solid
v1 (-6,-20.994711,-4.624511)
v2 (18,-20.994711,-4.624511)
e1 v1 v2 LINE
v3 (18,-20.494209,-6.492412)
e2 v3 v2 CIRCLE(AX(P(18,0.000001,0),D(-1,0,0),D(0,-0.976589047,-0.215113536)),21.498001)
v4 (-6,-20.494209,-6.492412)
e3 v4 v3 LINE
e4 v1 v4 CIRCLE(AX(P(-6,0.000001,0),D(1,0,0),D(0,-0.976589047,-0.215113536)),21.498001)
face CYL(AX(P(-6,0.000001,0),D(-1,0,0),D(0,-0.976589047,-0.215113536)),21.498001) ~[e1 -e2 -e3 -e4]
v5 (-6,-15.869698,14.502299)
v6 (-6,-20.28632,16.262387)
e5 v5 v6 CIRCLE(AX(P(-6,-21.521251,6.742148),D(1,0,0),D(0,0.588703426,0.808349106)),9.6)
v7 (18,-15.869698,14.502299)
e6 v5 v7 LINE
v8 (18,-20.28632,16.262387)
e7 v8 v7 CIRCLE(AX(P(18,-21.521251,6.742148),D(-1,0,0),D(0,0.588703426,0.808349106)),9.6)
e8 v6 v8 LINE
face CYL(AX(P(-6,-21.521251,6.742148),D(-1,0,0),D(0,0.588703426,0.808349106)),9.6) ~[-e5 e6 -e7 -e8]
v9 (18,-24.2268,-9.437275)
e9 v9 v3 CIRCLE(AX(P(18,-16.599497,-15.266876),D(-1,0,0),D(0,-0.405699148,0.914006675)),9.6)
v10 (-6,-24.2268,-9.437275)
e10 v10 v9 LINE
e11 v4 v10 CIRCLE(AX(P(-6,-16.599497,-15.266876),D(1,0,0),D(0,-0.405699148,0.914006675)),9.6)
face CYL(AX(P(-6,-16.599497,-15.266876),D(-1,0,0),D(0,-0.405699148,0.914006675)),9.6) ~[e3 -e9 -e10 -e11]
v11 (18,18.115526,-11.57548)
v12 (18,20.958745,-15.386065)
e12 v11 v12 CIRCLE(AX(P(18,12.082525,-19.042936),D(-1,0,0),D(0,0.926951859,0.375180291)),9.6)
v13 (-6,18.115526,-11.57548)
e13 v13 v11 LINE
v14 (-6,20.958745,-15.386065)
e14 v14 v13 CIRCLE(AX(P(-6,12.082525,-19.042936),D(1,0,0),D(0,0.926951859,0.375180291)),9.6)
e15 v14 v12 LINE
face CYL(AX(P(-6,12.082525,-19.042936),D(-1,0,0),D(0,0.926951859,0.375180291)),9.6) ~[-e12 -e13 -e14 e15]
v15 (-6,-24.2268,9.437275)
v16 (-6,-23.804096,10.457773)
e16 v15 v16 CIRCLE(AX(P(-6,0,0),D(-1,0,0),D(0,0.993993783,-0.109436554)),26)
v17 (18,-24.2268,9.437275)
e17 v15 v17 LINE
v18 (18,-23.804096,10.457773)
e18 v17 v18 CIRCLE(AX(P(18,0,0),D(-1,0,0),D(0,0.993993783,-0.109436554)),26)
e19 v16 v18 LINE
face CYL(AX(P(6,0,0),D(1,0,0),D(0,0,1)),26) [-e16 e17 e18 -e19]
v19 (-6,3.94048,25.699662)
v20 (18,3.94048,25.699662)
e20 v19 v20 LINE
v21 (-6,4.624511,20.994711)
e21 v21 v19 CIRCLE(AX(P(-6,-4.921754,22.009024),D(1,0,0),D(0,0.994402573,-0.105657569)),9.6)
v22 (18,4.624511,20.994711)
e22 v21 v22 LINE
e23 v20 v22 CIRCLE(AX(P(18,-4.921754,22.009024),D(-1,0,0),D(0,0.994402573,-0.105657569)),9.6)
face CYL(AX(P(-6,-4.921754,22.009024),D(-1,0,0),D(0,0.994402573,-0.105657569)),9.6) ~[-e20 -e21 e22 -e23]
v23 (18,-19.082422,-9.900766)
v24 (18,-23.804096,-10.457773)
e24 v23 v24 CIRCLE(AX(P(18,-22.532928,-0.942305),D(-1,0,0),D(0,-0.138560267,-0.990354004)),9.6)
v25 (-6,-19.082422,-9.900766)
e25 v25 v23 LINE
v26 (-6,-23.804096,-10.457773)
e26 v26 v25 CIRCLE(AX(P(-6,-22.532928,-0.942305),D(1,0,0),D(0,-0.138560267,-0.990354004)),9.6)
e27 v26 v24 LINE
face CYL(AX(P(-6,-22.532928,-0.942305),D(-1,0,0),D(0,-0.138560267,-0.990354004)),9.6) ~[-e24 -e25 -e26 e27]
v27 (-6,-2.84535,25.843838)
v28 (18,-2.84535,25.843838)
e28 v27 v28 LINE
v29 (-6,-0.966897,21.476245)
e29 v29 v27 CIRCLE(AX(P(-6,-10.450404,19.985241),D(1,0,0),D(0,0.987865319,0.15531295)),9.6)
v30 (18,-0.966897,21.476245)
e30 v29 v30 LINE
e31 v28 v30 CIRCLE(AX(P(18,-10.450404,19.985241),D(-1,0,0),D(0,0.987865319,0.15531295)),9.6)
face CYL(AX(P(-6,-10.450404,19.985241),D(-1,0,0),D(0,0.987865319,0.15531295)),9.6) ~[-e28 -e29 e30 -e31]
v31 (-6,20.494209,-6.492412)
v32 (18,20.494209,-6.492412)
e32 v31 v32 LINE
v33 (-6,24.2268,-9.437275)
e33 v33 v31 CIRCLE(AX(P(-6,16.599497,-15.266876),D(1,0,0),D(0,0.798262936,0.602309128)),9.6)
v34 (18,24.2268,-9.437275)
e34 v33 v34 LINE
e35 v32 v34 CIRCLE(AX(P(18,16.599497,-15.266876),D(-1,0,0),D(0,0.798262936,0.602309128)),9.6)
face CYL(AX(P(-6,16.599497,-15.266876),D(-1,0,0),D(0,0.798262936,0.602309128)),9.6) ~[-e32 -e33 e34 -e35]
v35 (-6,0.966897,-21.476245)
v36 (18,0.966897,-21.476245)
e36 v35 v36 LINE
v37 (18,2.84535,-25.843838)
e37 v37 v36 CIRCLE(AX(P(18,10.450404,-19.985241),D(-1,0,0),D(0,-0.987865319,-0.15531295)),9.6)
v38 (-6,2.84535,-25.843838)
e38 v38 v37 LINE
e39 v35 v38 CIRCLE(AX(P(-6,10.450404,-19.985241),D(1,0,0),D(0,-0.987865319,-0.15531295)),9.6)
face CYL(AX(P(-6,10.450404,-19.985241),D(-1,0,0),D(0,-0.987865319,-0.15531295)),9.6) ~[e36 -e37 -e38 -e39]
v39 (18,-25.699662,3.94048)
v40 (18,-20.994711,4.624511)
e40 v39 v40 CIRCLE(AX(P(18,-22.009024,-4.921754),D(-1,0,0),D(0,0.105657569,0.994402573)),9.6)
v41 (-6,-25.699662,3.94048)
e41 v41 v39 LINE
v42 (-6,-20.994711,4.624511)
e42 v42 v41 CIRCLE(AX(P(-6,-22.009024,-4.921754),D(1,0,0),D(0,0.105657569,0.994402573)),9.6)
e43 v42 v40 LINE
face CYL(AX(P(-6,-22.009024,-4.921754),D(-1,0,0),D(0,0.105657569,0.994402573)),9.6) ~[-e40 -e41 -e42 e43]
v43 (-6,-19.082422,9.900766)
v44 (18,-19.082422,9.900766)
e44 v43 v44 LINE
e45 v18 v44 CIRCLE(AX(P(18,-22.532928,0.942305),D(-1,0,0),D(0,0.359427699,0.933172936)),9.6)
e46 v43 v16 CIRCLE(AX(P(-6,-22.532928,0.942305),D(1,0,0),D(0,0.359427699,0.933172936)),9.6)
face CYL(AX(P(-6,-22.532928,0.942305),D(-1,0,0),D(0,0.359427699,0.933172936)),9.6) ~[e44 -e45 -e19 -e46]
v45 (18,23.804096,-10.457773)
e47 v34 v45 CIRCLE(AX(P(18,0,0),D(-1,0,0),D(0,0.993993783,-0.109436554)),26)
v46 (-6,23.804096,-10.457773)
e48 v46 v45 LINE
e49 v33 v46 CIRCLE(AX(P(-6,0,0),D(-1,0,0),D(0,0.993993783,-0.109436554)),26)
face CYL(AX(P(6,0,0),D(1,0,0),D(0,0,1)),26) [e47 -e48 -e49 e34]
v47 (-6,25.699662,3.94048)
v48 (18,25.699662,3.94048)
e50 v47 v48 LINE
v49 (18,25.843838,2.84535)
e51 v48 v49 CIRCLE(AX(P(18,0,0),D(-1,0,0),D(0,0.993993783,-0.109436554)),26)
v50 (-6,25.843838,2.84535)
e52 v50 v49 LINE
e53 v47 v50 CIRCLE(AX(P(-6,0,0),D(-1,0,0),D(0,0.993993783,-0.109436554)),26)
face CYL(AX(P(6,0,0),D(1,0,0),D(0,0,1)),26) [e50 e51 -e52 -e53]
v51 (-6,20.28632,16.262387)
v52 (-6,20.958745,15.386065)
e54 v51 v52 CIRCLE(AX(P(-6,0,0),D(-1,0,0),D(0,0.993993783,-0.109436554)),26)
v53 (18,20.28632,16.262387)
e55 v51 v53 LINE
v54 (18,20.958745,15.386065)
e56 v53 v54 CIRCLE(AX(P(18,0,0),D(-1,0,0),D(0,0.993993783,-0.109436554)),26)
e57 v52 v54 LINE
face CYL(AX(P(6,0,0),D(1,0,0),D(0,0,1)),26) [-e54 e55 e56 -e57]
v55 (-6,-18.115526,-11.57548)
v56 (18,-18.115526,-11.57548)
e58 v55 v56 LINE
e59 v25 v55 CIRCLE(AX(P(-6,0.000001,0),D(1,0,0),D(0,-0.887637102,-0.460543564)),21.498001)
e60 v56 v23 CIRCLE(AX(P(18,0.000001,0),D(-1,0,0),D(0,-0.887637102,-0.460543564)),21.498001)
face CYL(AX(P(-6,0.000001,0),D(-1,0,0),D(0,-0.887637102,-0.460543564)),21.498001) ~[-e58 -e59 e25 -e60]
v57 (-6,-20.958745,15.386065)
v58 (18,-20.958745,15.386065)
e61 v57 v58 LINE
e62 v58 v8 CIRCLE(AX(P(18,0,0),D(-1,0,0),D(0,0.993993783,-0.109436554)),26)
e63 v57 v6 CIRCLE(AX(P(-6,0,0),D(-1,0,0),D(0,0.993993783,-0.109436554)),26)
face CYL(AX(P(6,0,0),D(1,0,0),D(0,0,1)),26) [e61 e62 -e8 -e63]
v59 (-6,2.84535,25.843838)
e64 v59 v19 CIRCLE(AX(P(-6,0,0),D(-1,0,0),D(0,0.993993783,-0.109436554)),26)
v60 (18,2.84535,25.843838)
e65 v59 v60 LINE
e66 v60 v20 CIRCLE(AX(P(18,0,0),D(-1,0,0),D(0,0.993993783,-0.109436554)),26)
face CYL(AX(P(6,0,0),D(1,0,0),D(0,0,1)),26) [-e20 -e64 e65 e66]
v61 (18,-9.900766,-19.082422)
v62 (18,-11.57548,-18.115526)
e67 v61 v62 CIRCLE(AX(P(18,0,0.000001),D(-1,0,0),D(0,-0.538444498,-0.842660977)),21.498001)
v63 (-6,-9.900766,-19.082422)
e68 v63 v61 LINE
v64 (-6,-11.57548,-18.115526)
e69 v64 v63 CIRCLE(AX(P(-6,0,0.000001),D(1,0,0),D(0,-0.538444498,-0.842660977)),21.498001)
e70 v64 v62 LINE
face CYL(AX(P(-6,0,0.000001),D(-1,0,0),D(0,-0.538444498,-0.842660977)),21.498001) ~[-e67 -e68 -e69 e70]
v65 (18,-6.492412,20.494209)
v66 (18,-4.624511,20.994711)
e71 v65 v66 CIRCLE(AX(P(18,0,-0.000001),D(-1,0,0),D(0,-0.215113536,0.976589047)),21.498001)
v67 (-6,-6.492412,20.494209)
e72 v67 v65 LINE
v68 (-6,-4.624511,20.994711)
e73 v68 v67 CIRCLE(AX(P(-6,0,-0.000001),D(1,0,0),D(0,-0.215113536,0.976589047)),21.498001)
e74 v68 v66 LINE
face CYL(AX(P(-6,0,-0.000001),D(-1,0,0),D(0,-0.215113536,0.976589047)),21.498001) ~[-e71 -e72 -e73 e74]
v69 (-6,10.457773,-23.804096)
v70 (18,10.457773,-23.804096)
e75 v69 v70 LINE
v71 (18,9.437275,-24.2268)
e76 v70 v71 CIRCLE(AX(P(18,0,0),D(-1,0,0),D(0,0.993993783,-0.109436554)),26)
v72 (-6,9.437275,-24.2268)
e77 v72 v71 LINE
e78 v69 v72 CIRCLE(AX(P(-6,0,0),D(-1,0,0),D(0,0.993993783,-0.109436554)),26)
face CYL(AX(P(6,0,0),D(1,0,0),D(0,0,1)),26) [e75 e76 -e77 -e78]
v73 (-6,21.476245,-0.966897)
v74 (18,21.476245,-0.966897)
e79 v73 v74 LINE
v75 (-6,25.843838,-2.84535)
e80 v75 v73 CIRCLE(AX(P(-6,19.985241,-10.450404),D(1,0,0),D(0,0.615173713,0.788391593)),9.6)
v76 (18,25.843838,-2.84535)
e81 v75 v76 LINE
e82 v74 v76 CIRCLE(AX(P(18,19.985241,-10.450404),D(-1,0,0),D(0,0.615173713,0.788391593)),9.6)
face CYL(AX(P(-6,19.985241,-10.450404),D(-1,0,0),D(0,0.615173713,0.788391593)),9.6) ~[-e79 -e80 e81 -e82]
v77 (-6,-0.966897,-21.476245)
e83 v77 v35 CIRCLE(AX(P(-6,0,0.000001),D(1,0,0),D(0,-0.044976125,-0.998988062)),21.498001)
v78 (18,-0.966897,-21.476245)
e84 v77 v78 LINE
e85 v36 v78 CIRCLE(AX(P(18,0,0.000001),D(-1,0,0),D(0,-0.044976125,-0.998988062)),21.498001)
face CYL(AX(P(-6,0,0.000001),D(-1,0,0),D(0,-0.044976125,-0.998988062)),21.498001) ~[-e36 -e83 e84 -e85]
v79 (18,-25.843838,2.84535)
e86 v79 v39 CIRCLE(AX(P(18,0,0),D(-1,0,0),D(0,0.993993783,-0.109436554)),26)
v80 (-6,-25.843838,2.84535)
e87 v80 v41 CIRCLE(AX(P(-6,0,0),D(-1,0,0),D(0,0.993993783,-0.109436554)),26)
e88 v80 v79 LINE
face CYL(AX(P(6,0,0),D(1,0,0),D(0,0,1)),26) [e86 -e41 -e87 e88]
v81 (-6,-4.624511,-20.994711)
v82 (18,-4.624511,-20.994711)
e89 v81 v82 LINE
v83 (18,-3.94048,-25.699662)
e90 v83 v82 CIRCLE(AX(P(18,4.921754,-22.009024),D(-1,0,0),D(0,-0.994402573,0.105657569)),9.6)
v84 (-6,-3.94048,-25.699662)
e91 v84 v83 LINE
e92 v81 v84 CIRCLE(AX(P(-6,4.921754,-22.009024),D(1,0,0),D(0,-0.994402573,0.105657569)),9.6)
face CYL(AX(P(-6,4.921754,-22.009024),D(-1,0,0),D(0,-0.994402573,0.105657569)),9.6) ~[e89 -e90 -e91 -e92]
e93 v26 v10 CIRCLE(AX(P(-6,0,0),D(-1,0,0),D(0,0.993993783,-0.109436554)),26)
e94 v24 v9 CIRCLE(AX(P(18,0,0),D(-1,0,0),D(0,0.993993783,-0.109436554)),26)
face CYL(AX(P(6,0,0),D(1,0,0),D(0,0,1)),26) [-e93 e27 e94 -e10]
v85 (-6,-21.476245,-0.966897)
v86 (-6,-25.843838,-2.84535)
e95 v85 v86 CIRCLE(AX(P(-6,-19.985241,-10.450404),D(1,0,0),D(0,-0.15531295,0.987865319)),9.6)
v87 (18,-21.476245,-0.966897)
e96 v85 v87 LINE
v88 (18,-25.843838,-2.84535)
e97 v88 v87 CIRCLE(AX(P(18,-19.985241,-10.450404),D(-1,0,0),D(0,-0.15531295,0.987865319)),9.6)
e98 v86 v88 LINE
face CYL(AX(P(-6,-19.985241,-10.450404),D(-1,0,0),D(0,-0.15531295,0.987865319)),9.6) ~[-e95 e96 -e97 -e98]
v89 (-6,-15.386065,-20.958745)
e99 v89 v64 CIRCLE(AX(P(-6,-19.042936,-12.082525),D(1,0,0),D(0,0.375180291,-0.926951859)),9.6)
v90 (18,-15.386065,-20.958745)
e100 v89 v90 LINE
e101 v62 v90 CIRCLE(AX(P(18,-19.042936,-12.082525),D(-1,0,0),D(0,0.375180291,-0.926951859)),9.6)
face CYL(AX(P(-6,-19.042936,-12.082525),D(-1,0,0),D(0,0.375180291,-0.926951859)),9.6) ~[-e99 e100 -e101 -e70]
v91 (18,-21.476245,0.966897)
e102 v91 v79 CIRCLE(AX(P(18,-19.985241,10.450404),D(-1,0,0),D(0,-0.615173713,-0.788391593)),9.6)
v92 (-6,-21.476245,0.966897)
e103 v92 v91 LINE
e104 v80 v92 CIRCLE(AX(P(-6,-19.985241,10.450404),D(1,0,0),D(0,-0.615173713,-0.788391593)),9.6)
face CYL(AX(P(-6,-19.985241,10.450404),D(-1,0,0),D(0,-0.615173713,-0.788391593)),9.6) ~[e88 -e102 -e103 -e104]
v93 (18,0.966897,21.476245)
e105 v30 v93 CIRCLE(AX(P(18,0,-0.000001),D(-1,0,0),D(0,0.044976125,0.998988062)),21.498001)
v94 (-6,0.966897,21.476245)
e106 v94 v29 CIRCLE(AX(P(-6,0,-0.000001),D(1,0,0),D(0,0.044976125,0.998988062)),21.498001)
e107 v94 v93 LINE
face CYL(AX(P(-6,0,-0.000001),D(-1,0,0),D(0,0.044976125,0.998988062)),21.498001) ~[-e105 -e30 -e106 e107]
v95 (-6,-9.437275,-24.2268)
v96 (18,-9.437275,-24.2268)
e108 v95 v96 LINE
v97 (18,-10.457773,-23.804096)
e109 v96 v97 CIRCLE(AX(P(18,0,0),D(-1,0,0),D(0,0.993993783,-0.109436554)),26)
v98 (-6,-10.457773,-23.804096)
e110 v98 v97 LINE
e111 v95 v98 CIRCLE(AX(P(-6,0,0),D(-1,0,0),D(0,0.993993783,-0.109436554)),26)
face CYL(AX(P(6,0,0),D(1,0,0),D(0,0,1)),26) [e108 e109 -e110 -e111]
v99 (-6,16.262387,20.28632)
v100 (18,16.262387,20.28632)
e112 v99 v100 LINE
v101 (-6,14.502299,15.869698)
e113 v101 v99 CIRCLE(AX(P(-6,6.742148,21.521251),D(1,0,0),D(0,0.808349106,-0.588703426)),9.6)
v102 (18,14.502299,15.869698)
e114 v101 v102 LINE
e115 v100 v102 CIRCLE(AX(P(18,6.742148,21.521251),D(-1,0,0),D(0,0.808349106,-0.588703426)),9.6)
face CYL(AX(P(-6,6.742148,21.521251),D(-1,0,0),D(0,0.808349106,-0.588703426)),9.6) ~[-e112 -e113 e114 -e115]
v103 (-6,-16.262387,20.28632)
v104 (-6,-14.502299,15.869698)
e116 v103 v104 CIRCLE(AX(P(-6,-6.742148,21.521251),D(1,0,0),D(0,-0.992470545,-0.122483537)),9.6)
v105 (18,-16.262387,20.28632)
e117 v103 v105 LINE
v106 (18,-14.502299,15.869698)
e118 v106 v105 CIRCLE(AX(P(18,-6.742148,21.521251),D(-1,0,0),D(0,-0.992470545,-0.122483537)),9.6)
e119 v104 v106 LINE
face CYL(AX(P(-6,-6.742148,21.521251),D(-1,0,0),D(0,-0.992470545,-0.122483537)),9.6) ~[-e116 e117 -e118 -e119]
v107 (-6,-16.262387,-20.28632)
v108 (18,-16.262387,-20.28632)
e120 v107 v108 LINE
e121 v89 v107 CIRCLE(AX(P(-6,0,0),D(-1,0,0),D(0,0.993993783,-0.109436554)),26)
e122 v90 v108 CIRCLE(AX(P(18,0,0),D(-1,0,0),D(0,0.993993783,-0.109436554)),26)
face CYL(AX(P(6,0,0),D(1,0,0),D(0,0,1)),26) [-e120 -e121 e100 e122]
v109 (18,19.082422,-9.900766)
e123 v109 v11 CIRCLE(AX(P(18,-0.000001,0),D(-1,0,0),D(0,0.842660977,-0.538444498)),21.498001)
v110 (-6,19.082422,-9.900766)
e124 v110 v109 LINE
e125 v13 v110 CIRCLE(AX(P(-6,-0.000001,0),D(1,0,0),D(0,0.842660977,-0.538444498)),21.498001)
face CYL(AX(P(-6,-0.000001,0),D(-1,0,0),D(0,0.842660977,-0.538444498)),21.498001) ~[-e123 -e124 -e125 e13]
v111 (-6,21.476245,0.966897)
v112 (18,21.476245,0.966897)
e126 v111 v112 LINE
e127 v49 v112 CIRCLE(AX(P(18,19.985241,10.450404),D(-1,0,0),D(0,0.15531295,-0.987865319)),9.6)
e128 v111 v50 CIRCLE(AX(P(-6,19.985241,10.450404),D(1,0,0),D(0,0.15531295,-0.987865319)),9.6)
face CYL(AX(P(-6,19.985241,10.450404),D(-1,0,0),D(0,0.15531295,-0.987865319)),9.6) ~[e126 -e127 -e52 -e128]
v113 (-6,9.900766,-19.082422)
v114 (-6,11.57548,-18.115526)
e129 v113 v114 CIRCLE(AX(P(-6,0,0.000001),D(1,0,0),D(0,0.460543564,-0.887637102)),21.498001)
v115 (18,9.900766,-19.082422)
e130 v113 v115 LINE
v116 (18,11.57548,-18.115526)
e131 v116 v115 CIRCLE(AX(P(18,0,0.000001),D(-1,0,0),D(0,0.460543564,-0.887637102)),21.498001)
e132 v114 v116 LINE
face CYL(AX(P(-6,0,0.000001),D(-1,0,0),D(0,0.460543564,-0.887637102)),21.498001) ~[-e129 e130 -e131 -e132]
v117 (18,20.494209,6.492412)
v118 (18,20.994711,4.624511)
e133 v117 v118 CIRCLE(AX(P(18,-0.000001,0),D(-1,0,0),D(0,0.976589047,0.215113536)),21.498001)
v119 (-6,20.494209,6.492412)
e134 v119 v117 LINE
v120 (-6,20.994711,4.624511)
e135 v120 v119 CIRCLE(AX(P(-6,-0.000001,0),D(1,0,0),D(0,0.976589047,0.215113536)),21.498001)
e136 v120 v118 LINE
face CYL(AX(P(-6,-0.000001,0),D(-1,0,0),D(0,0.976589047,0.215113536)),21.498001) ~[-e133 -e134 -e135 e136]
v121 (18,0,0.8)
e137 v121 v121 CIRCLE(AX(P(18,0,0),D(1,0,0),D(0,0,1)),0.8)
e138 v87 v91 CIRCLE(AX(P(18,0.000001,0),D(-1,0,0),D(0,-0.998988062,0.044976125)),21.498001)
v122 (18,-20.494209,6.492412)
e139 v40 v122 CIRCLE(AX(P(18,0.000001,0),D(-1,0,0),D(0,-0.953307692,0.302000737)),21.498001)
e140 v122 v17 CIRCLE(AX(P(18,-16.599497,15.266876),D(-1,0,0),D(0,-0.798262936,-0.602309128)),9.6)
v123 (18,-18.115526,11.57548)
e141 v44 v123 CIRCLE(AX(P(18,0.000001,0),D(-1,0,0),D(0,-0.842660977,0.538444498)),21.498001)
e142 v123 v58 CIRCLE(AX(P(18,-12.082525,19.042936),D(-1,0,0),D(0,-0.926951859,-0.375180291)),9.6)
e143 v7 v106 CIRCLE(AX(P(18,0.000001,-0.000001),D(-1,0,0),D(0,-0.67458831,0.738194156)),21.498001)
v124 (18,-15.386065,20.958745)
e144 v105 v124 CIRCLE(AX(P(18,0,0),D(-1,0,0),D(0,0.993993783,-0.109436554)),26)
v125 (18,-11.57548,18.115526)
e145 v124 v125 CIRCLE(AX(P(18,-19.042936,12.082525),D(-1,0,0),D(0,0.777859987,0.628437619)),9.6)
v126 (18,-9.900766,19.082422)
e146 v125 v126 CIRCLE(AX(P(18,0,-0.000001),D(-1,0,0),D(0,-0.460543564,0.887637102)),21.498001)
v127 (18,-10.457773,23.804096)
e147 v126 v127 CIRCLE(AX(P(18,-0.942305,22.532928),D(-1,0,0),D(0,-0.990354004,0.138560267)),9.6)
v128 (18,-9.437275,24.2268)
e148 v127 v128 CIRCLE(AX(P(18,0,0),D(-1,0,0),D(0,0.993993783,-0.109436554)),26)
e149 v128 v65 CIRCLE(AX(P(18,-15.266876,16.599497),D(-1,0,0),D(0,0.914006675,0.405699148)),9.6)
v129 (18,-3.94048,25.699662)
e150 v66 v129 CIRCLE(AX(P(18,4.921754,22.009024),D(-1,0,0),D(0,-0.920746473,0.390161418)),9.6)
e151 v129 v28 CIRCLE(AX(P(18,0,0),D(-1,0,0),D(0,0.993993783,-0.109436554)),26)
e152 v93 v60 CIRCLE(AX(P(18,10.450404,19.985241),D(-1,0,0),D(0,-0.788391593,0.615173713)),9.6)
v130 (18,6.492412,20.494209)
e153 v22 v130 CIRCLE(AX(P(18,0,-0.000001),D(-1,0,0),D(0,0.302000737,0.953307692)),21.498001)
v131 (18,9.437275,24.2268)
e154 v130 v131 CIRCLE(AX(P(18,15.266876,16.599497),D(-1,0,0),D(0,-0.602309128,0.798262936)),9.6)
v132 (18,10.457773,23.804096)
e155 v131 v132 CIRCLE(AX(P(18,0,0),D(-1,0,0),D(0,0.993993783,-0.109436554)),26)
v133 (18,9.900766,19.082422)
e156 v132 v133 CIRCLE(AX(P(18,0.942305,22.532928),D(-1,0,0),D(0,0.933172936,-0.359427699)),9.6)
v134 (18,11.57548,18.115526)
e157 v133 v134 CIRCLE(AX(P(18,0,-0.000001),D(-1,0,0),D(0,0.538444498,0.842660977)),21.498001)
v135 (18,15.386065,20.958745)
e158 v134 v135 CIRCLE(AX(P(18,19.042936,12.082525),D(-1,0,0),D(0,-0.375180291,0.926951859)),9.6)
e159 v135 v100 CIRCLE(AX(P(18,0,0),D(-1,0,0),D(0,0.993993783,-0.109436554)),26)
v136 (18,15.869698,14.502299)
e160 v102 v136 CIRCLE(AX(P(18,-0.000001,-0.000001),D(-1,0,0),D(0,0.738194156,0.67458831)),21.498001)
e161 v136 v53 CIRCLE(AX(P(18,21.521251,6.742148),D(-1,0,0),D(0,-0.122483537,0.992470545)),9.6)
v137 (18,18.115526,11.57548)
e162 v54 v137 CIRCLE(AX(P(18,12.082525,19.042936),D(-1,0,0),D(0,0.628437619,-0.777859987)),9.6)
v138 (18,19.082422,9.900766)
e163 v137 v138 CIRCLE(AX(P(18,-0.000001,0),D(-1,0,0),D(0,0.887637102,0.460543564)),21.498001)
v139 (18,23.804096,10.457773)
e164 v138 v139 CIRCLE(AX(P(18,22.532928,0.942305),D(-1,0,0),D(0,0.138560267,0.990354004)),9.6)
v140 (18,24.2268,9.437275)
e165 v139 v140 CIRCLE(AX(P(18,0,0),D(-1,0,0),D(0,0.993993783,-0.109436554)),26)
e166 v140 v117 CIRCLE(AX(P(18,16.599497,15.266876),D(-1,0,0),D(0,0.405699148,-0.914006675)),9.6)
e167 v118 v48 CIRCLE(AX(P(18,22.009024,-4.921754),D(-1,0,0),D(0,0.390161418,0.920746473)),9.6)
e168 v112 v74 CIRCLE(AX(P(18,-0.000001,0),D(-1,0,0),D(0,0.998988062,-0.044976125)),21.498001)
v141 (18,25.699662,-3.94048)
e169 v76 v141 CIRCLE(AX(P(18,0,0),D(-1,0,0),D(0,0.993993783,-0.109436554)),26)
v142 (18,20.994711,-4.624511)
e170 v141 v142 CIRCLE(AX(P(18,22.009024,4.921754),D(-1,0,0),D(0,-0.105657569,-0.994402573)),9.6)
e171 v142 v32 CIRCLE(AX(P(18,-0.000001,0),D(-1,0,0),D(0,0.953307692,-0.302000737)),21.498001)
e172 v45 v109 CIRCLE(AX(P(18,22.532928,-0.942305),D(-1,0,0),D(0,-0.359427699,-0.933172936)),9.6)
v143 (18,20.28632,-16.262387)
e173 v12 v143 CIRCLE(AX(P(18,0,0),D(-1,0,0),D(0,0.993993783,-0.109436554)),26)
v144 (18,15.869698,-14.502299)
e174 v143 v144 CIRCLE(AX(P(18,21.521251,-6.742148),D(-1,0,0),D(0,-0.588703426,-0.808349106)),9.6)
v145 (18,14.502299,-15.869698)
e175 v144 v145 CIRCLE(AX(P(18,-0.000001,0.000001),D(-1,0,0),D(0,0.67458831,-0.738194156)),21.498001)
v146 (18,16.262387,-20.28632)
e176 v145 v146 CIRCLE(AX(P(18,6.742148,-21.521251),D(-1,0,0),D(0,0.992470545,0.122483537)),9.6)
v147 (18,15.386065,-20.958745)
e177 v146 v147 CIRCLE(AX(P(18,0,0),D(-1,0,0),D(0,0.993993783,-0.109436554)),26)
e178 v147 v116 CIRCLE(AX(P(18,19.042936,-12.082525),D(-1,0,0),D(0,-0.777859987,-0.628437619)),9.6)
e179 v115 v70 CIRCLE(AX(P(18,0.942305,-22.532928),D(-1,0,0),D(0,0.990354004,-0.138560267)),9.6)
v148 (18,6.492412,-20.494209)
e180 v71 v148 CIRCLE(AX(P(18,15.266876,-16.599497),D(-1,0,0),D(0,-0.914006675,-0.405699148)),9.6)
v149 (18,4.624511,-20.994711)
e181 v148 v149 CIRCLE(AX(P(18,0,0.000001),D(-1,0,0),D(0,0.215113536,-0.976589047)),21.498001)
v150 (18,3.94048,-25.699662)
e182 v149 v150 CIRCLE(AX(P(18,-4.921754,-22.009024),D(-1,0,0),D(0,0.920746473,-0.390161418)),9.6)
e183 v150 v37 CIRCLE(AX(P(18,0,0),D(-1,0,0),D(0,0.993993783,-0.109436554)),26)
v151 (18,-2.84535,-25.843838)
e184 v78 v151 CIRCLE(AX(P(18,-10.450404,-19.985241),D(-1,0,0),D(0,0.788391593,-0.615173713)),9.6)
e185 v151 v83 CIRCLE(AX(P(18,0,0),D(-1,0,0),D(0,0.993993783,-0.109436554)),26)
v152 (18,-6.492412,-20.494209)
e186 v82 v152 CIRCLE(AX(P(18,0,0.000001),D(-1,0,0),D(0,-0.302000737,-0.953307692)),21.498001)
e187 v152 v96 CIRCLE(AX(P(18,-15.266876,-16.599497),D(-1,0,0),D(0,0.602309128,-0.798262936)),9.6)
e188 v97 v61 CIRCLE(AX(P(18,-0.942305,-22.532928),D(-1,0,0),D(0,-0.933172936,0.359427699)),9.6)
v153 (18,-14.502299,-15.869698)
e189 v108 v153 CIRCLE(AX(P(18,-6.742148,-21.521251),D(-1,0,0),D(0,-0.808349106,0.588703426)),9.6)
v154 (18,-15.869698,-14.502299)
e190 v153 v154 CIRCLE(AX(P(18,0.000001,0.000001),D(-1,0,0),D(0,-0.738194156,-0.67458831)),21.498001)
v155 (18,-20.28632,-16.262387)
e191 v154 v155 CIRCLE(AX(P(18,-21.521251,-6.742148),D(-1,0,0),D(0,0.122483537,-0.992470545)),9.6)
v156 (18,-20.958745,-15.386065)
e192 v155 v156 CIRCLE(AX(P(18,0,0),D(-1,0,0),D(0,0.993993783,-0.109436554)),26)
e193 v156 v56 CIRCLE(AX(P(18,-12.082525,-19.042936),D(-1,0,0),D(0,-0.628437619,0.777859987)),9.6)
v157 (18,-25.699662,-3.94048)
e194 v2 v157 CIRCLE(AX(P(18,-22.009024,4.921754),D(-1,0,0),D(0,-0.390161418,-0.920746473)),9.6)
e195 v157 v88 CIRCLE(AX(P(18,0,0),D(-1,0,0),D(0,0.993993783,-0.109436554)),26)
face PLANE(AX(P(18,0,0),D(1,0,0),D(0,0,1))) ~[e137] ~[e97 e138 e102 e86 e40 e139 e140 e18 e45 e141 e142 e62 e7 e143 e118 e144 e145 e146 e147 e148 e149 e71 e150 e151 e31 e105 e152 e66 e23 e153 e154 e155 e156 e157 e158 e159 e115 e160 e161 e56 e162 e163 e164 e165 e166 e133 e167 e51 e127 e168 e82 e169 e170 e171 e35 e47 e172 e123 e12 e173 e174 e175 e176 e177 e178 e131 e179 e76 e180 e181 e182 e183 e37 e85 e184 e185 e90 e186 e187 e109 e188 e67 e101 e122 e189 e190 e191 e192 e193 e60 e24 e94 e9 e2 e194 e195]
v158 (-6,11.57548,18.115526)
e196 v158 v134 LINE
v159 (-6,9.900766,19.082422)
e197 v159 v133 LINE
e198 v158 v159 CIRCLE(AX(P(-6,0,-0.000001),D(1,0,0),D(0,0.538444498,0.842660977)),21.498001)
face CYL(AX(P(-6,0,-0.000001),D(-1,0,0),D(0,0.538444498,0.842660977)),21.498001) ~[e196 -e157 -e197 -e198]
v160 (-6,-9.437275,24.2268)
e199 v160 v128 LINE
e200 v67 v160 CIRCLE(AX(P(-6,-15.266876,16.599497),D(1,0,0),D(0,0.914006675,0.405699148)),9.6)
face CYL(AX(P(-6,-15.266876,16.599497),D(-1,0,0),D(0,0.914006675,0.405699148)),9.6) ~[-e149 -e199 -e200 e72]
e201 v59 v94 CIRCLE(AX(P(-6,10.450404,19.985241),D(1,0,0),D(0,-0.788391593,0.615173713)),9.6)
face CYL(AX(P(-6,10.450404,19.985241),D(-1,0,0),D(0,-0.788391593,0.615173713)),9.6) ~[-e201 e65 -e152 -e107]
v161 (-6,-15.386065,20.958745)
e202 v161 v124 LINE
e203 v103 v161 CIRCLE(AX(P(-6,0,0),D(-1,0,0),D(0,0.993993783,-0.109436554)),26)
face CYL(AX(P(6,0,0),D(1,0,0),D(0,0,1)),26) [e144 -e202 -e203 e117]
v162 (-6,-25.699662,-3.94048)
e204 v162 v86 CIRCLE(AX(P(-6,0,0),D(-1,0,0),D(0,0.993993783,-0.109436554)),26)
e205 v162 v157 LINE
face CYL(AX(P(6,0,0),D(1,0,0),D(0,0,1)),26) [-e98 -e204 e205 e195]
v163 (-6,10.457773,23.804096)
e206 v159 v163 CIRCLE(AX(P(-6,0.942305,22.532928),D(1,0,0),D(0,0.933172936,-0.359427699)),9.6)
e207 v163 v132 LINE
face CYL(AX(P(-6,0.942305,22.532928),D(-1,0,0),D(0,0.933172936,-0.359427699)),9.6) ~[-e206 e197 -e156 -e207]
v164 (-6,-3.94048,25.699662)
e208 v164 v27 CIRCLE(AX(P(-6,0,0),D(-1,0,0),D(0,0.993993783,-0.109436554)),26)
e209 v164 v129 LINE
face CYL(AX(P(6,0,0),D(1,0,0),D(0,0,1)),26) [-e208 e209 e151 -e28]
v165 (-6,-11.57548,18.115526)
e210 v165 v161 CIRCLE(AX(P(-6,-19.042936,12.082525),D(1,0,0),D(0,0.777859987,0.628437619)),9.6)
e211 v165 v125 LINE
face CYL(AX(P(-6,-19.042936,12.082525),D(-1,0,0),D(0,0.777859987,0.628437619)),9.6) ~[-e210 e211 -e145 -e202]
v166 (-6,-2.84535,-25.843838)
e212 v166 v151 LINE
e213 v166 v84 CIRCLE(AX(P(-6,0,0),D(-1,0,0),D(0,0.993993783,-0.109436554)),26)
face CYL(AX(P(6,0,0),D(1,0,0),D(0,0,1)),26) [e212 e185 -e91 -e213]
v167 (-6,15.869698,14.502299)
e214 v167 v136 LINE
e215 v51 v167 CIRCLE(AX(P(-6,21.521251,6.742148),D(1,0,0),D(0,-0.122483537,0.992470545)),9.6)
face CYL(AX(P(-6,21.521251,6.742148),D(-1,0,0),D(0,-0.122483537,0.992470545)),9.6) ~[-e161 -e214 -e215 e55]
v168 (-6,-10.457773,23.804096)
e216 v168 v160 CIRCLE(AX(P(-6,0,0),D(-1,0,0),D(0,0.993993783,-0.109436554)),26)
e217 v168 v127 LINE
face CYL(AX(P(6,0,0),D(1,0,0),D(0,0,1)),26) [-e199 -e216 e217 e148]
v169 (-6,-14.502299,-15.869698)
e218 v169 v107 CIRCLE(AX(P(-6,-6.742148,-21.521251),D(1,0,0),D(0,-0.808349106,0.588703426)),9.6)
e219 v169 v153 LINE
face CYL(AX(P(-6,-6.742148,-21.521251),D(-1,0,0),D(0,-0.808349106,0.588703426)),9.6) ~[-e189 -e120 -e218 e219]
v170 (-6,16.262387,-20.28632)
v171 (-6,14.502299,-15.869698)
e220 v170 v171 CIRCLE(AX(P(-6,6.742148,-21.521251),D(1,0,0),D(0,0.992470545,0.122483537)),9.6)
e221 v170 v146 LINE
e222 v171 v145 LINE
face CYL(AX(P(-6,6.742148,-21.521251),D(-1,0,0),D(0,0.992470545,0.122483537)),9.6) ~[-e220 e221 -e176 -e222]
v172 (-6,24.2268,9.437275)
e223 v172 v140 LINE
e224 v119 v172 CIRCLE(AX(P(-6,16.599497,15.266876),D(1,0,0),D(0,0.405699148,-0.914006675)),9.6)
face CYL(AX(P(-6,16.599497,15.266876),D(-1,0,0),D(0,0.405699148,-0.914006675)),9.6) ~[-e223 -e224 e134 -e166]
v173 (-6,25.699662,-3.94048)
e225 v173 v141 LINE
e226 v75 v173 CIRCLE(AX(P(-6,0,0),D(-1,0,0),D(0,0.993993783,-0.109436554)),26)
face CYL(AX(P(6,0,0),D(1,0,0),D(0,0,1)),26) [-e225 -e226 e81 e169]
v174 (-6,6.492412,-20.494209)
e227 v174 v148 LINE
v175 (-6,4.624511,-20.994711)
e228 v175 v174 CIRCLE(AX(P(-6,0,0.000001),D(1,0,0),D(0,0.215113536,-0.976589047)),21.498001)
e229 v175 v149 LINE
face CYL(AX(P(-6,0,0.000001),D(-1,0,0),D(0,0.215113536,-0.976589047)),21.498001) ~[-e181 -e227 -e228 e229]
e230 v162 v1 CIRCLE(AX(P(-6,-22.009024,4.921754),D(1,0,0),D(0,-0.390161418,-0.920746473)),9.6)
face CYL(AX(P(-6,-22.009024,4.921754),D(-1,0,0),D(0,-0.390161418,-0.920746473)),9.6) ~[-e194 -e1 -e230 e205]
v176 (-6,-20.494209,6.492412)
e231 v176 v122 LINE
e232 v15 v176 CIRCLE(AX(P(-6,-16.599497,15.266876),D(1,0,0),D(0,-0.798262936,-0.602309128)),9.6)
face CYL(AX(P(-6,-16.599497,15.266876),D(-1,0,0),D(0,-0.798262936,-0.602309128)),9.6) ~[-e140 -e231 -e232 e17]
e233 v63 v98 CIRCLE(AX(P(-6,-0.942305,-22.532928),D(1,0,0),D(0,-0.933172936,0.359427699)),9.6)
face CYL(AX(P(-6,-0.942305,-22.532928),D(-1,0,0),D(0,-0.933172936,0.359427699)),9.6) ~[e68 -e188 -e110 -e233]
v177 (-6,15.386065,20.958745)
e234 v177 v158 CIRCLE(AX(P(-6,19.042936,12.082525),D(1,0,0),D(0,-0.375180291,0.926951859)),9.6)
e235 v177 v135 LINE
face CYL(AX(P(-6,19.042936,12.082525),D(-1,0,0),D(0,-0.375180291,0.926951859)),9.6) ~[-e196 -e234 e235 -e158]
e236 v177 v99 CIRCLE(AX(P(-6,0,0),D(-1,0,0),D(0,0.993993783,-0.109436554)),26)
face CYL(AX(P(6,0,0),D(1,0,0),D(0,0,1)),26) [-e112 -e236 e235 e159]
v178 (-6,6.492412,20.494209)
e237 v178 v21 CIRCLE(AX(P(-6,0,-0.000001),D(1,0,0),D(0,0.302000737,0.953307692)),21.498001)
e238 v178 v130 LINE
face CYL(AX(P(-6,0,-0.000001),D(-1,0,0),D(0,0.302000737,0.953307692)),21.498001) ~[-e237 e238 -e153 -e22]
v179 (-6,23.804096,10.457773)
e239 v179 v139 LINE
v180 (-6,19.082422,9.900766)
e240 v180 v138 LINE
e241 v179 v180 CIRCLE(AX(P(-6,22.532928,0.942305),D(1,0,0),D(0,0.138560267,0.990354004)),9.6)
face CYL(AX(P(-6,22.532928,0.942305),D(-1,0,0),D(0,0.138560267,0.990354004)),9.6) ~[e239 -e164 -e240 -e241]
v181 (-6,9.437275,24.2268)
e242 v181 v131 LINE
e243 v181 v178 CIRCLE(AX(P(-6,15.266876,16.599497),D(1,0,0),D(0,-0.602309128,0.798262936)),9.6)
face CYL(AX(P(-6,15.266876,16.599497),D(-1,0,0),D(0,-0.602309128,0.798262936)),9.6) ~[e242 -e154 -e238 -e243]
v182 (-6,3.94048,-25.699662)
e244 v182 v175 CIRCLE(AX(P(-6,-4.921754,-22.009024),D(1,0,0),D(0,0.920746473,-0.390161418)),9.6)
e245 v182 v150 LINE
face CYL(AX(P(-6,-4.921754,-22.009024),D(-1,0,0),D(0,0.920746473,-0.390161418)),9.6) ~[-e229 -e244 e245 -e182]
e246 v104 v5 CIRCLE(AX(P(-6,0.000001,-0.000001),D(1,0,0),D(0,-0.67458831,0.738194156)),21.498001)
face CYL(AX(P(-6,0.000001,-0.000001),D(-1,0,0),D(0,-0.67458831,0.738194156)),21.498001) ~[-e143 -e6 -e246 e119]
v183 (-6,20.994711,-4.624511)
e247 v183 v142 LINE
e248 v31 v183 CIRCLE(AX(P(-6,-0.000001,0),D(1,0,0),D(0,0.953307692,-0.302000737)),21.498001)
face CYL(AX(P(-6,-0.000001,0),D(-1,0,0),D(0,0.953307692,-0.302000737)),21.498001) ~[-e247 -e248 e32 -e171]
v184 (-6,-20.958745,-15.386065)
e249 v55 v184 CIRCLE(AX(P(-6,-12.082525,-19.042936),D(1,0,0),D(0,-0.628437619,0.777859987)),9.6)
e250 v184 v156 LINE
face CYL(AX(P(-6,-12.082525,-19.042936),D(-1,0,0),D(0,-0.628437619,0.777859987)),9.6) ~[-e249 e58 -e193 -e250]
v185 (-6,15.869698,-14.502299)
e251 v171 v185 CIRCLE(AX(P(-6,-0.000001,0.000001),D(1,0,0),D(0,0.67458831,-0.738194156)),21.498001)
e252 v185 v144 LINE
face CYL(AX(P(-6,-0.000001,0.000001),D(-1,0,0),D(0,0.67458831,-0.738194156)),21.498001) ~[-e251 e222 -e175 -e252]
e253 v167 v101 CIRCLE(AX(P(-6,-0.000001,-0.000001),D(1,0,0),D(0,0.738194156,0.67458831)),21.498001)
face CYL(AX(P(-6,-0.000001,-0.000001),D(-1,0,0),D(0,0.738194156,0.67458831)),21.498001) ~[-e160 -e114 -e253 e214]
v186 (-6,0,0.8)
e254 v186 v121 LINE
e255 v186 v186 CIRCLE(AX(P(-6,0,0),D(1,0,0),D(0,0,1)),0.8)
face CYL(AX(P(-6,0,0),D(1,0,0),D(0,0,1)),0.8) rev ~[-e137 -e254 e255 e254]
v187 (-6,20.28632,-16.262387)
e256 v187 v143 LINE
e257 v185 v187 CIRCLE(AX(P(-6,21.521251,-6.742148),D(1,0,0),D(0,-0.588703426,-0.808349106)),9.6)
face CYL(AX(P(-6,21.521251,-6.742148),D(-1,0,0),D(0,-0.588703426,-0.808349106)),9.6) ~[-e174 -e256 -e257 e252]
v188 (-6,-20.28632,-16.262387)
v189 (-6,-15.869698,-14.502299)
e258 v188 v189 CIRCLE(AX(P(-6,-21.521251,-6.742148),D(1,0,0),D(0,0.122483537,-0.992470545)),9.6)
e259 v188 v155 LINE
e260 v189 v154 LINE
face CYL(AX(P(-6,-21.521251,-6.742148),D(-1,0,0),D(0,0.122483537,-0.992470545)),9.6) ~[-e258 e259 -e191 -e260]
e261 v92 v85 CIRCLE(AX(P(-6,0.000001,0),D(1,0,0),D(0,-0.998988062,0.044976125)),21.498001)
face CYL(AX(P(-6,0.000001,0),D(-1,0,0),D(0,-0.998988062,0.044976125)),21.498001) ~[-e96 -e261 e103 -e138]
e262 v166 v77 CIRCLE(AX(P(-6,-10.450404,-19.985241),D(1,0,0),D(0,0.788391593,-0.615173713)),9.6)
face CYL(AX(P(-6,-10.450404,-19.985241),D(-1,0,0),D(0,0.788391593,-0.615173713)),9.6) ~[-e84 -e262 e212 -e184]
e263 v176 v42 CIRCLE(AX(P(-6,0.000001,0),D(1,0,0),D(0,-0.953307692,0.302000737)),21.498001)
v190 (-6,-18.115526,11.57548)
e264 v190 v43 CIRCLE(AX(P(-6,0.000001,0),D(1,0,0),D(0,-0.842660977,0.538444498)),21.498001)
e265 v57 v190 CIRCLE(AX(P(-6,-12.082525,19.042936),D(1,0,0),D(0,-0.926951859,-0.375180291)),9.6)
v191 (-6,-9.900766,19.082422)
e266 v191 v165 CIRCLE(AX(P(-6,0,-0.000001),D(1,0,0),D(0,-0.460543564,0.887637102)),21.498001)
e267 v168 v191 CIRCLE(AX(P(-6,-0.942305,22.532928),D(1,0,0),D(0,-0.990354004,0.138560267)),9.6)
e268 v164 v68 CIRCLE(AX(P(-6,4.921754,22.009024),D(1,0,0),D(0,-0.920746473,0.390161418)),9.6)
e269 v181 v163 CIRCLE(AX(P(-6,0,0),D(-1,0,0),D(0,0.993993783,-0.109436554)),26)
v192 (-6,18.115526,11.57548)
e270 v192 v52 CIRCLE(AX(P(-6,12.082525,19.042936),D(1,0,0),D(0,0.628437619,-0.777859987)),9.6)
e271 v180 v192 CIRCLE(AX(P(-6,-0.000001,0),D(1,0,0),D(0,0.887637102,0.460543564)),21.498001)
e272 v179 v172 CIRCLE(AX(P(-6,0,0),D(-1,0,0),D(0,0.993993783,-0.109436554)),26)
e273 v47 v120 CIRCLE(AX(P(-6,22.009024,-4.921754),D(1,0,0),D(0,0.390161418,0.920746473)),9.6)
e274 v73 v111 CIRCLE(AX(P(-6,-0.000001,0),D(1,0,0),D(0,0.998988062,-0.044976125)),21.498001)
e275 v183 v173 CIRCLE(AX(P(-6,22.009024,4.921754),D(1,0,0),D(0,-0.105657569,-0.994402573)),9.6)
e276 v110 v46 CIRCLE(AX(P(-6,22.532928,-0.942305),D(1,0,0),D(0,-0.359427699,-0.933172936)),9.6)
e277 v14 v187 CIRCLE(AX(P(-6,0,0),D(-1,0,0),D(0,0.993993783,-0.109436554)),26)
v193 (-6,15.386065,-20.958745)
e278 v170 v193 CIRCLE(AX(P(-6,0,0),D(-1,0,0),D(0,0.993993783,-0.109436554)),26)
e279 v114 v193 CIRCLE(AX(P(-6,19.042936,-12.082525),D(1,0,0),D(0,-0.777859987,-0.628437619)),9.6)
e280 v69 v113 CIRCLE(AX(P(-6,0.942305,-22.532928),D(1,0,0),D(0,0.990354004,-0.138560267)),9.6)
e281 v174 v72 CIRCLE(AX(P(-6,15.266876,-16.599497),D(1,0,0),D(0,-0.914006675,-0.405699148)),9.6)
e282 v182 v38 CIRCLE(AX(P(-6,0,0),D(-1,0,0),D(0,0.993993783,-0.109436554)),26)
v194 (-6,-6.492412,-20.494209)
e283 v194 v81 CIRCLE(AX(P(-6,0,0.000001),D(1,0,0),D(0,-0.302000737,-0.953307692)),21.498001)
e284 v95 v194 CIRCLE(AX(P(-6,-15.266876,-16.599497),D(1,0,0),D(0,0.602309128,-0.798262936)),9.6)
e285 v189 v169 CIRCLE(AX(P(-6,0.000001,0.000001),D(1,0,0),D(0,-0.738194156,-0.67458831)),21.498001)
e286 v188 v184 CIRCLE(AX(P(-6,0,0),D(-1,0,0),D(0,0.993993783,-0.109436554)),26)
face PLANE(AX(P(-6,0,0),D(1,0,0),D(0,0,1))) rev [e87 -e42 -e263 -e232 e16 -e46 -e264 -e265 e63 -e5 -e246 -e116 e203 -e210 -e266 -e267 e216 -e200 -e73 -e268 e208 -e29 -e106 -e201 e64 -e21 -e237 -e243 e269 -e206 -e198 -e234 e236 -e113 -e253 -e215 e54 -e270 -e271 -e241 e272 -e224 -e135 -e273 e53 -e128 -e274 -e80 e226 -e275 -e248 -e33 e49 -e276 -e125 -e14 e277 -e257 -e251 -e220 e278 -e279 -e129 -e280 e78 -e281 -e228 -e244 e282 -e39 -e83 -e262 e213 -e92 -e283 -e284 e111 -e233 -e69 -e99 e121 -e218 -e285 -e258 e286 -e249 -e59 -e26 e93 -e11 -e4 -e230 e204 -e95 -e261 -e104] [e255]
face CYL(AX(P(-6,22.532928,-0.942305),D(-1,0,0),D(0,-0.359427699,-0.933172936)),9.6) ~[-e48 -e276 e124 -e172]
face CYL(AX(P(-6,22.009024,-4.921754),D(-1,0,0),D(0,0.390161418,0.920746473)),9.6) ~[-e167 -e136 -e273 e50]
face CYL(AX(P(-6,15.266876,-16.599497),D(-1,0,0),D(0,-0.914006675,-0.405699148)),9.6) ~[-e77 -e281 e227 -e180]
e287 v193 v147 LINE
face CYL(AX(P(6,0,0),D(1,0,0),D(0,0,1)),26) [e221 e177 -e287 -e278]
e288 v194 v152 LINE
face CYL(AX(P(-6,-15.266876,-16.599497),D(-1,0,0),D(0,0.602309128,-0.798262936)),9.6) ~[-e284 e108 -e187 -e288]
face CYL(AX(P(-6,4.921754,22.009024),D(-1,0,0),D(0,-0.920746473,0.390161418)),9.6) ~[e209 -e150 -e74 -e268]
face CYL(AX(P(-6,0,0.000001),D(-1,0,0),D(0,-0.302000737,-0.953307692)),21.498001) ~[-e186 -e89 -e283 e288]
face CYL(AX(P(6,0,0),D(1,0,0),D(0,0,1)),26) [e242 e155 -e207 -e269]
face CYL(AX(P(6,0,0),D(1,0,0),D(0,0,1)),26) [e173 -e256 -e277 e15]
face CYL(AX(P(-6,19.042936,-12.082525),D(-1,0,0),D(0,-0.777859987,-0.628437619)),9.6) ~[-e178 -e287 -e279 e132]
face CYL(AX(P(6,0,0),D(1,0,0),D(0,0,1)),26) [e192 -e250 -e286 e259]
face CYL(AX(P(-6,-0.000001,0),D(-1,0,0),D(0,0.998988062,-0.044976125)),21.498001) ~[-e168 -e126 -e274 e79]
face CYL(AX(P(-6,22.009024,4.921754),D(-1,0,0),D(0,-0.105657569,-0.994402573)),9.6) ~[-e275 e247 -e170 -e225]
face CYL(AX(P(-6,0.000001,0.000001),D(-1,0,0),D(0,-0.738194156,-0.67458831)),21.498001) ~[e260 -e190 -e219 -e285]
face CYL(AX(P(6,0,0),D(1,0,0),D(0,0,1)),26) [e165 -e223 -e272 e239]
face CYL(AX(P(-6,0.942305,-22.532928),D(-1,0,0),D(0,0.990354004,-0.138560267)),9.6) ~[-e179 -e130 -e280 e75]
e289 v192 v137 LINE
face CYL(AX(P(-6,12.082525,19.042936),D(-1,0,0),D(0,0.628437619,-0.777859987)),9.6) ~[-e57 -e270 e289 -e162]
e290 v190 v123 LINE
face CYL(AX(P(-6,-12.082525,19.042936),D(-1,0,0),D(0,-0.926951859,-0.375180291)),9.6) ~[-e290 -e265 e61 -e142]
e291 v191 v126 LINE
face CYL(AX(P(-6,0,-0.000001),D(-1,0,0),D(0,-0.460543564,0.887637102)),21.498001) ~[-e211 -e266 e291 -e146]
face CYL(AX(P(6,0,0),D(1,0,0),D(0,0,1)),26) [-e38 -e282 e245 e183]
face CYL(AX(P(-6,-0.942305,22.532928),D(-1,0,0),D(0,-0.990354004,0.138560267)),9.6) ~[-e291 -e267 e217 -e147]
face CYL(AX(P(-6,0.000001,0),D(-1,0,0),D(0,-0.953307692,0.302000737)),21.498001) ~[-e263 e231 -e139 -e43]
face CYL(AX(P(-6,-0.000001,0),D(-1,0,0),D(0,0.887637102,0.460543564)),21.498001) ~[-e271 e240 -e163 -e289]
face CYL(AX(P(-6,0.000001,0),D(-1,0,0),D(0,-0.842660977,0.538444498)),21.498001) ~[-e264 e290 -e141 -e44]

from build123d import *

# Parameters (mm, degrees)
BASPROSKE_W     = 12
BASPROSKE_H     = 13
TOOTHCUT_DEPTH  = 22.9544984
TEETHCUTS_COUNT = 24
TEETHCUTS_ANGLE = 345
BORSKE_R        = 0.4
BORE_DEPTH      = 50.0000508
SCALE1_SCALE    = 2


with BuildPart() as part:
    # BasProSke → Base-Revolve (revolve)
    with BuildSketch(Plane(origin=(0, 0, 0), x_dir=(1, 0, 0), z_dir=(0, 1, 0)), mode=Mode.PRIVATE) as base_revolve_sk:
        with Locations((6, 6.5)):
            Rectangle(BASPROSKE_W, BASPROSKE_H)
    revolve(base_revolve_sk.sketch.rotate(Axis((-10, 0, 0), (1, 0, 0)), 180), axis=Axis((-10, 0, 0), (1, 0, 0)))

    # TooCutSke → ToothCut (cut, through all)
    with BuildSketch(Plane(origin=(0, 0, 0), x_dir=(0, 0, -1), z_dir=(1, 0, 0))):
        with BuildLine():
            ThreePointArc((0.483448384, 10.738122679), (0, 10.749), (-0.483448384, 10.738122679))
            ThreePointArc((-0.483448384, 10.738122679), (-0.821636462, 11.902754369), (-1.44092227, 12.945454344))
            ThreePointArc((-1.44092227, 12.945454344), (0, 13.0254), (1.44092227, 12.945454344))
            ThreePointArc((1.44092227, 12.945454344), (0.821636462, 11.902754369), (0.483448384, 10.738122679))
        make_face()
    toothcut = extrude(amount=TOOTHCUT_DEPTH, mode=Mode.SUBTRACT)

    # TeethCuts: ToothCut ×24 about axis
    teethcuts_axis = Axis((-10, 0, 0), (1, 0, 0))
    for i in range(1, TEETHCUTS_COUNT):
        add(toothcut.rotate(teethcuts_axis, i * TEETHCUTS_ANGLE / (TEETHCUTS_COUNT - 1)), mode=Mode.SUBTRACT)

    # BorSke → Bore (cut, symmetric)
    with BuildSketch(Plane(origin=(0, 0, 0), x_dir=(0, 0, -1), z_dir=(1, 0, 0))):
        with Locations(Location((0, 0, 0), (0, 0, 180))):
            Circle(BORSKE_R)
    extrude(amount=BORE_DEPTH, both=True, mode=Mode.SUBTRACT)


with BuildPart() as part_1:
    # Scale1: scaled about (6, 0, 0)
    add(part.part.scale(SCALE1_SCALE).moved(Location((-6, 0, 0))))


solid = part_1.part
